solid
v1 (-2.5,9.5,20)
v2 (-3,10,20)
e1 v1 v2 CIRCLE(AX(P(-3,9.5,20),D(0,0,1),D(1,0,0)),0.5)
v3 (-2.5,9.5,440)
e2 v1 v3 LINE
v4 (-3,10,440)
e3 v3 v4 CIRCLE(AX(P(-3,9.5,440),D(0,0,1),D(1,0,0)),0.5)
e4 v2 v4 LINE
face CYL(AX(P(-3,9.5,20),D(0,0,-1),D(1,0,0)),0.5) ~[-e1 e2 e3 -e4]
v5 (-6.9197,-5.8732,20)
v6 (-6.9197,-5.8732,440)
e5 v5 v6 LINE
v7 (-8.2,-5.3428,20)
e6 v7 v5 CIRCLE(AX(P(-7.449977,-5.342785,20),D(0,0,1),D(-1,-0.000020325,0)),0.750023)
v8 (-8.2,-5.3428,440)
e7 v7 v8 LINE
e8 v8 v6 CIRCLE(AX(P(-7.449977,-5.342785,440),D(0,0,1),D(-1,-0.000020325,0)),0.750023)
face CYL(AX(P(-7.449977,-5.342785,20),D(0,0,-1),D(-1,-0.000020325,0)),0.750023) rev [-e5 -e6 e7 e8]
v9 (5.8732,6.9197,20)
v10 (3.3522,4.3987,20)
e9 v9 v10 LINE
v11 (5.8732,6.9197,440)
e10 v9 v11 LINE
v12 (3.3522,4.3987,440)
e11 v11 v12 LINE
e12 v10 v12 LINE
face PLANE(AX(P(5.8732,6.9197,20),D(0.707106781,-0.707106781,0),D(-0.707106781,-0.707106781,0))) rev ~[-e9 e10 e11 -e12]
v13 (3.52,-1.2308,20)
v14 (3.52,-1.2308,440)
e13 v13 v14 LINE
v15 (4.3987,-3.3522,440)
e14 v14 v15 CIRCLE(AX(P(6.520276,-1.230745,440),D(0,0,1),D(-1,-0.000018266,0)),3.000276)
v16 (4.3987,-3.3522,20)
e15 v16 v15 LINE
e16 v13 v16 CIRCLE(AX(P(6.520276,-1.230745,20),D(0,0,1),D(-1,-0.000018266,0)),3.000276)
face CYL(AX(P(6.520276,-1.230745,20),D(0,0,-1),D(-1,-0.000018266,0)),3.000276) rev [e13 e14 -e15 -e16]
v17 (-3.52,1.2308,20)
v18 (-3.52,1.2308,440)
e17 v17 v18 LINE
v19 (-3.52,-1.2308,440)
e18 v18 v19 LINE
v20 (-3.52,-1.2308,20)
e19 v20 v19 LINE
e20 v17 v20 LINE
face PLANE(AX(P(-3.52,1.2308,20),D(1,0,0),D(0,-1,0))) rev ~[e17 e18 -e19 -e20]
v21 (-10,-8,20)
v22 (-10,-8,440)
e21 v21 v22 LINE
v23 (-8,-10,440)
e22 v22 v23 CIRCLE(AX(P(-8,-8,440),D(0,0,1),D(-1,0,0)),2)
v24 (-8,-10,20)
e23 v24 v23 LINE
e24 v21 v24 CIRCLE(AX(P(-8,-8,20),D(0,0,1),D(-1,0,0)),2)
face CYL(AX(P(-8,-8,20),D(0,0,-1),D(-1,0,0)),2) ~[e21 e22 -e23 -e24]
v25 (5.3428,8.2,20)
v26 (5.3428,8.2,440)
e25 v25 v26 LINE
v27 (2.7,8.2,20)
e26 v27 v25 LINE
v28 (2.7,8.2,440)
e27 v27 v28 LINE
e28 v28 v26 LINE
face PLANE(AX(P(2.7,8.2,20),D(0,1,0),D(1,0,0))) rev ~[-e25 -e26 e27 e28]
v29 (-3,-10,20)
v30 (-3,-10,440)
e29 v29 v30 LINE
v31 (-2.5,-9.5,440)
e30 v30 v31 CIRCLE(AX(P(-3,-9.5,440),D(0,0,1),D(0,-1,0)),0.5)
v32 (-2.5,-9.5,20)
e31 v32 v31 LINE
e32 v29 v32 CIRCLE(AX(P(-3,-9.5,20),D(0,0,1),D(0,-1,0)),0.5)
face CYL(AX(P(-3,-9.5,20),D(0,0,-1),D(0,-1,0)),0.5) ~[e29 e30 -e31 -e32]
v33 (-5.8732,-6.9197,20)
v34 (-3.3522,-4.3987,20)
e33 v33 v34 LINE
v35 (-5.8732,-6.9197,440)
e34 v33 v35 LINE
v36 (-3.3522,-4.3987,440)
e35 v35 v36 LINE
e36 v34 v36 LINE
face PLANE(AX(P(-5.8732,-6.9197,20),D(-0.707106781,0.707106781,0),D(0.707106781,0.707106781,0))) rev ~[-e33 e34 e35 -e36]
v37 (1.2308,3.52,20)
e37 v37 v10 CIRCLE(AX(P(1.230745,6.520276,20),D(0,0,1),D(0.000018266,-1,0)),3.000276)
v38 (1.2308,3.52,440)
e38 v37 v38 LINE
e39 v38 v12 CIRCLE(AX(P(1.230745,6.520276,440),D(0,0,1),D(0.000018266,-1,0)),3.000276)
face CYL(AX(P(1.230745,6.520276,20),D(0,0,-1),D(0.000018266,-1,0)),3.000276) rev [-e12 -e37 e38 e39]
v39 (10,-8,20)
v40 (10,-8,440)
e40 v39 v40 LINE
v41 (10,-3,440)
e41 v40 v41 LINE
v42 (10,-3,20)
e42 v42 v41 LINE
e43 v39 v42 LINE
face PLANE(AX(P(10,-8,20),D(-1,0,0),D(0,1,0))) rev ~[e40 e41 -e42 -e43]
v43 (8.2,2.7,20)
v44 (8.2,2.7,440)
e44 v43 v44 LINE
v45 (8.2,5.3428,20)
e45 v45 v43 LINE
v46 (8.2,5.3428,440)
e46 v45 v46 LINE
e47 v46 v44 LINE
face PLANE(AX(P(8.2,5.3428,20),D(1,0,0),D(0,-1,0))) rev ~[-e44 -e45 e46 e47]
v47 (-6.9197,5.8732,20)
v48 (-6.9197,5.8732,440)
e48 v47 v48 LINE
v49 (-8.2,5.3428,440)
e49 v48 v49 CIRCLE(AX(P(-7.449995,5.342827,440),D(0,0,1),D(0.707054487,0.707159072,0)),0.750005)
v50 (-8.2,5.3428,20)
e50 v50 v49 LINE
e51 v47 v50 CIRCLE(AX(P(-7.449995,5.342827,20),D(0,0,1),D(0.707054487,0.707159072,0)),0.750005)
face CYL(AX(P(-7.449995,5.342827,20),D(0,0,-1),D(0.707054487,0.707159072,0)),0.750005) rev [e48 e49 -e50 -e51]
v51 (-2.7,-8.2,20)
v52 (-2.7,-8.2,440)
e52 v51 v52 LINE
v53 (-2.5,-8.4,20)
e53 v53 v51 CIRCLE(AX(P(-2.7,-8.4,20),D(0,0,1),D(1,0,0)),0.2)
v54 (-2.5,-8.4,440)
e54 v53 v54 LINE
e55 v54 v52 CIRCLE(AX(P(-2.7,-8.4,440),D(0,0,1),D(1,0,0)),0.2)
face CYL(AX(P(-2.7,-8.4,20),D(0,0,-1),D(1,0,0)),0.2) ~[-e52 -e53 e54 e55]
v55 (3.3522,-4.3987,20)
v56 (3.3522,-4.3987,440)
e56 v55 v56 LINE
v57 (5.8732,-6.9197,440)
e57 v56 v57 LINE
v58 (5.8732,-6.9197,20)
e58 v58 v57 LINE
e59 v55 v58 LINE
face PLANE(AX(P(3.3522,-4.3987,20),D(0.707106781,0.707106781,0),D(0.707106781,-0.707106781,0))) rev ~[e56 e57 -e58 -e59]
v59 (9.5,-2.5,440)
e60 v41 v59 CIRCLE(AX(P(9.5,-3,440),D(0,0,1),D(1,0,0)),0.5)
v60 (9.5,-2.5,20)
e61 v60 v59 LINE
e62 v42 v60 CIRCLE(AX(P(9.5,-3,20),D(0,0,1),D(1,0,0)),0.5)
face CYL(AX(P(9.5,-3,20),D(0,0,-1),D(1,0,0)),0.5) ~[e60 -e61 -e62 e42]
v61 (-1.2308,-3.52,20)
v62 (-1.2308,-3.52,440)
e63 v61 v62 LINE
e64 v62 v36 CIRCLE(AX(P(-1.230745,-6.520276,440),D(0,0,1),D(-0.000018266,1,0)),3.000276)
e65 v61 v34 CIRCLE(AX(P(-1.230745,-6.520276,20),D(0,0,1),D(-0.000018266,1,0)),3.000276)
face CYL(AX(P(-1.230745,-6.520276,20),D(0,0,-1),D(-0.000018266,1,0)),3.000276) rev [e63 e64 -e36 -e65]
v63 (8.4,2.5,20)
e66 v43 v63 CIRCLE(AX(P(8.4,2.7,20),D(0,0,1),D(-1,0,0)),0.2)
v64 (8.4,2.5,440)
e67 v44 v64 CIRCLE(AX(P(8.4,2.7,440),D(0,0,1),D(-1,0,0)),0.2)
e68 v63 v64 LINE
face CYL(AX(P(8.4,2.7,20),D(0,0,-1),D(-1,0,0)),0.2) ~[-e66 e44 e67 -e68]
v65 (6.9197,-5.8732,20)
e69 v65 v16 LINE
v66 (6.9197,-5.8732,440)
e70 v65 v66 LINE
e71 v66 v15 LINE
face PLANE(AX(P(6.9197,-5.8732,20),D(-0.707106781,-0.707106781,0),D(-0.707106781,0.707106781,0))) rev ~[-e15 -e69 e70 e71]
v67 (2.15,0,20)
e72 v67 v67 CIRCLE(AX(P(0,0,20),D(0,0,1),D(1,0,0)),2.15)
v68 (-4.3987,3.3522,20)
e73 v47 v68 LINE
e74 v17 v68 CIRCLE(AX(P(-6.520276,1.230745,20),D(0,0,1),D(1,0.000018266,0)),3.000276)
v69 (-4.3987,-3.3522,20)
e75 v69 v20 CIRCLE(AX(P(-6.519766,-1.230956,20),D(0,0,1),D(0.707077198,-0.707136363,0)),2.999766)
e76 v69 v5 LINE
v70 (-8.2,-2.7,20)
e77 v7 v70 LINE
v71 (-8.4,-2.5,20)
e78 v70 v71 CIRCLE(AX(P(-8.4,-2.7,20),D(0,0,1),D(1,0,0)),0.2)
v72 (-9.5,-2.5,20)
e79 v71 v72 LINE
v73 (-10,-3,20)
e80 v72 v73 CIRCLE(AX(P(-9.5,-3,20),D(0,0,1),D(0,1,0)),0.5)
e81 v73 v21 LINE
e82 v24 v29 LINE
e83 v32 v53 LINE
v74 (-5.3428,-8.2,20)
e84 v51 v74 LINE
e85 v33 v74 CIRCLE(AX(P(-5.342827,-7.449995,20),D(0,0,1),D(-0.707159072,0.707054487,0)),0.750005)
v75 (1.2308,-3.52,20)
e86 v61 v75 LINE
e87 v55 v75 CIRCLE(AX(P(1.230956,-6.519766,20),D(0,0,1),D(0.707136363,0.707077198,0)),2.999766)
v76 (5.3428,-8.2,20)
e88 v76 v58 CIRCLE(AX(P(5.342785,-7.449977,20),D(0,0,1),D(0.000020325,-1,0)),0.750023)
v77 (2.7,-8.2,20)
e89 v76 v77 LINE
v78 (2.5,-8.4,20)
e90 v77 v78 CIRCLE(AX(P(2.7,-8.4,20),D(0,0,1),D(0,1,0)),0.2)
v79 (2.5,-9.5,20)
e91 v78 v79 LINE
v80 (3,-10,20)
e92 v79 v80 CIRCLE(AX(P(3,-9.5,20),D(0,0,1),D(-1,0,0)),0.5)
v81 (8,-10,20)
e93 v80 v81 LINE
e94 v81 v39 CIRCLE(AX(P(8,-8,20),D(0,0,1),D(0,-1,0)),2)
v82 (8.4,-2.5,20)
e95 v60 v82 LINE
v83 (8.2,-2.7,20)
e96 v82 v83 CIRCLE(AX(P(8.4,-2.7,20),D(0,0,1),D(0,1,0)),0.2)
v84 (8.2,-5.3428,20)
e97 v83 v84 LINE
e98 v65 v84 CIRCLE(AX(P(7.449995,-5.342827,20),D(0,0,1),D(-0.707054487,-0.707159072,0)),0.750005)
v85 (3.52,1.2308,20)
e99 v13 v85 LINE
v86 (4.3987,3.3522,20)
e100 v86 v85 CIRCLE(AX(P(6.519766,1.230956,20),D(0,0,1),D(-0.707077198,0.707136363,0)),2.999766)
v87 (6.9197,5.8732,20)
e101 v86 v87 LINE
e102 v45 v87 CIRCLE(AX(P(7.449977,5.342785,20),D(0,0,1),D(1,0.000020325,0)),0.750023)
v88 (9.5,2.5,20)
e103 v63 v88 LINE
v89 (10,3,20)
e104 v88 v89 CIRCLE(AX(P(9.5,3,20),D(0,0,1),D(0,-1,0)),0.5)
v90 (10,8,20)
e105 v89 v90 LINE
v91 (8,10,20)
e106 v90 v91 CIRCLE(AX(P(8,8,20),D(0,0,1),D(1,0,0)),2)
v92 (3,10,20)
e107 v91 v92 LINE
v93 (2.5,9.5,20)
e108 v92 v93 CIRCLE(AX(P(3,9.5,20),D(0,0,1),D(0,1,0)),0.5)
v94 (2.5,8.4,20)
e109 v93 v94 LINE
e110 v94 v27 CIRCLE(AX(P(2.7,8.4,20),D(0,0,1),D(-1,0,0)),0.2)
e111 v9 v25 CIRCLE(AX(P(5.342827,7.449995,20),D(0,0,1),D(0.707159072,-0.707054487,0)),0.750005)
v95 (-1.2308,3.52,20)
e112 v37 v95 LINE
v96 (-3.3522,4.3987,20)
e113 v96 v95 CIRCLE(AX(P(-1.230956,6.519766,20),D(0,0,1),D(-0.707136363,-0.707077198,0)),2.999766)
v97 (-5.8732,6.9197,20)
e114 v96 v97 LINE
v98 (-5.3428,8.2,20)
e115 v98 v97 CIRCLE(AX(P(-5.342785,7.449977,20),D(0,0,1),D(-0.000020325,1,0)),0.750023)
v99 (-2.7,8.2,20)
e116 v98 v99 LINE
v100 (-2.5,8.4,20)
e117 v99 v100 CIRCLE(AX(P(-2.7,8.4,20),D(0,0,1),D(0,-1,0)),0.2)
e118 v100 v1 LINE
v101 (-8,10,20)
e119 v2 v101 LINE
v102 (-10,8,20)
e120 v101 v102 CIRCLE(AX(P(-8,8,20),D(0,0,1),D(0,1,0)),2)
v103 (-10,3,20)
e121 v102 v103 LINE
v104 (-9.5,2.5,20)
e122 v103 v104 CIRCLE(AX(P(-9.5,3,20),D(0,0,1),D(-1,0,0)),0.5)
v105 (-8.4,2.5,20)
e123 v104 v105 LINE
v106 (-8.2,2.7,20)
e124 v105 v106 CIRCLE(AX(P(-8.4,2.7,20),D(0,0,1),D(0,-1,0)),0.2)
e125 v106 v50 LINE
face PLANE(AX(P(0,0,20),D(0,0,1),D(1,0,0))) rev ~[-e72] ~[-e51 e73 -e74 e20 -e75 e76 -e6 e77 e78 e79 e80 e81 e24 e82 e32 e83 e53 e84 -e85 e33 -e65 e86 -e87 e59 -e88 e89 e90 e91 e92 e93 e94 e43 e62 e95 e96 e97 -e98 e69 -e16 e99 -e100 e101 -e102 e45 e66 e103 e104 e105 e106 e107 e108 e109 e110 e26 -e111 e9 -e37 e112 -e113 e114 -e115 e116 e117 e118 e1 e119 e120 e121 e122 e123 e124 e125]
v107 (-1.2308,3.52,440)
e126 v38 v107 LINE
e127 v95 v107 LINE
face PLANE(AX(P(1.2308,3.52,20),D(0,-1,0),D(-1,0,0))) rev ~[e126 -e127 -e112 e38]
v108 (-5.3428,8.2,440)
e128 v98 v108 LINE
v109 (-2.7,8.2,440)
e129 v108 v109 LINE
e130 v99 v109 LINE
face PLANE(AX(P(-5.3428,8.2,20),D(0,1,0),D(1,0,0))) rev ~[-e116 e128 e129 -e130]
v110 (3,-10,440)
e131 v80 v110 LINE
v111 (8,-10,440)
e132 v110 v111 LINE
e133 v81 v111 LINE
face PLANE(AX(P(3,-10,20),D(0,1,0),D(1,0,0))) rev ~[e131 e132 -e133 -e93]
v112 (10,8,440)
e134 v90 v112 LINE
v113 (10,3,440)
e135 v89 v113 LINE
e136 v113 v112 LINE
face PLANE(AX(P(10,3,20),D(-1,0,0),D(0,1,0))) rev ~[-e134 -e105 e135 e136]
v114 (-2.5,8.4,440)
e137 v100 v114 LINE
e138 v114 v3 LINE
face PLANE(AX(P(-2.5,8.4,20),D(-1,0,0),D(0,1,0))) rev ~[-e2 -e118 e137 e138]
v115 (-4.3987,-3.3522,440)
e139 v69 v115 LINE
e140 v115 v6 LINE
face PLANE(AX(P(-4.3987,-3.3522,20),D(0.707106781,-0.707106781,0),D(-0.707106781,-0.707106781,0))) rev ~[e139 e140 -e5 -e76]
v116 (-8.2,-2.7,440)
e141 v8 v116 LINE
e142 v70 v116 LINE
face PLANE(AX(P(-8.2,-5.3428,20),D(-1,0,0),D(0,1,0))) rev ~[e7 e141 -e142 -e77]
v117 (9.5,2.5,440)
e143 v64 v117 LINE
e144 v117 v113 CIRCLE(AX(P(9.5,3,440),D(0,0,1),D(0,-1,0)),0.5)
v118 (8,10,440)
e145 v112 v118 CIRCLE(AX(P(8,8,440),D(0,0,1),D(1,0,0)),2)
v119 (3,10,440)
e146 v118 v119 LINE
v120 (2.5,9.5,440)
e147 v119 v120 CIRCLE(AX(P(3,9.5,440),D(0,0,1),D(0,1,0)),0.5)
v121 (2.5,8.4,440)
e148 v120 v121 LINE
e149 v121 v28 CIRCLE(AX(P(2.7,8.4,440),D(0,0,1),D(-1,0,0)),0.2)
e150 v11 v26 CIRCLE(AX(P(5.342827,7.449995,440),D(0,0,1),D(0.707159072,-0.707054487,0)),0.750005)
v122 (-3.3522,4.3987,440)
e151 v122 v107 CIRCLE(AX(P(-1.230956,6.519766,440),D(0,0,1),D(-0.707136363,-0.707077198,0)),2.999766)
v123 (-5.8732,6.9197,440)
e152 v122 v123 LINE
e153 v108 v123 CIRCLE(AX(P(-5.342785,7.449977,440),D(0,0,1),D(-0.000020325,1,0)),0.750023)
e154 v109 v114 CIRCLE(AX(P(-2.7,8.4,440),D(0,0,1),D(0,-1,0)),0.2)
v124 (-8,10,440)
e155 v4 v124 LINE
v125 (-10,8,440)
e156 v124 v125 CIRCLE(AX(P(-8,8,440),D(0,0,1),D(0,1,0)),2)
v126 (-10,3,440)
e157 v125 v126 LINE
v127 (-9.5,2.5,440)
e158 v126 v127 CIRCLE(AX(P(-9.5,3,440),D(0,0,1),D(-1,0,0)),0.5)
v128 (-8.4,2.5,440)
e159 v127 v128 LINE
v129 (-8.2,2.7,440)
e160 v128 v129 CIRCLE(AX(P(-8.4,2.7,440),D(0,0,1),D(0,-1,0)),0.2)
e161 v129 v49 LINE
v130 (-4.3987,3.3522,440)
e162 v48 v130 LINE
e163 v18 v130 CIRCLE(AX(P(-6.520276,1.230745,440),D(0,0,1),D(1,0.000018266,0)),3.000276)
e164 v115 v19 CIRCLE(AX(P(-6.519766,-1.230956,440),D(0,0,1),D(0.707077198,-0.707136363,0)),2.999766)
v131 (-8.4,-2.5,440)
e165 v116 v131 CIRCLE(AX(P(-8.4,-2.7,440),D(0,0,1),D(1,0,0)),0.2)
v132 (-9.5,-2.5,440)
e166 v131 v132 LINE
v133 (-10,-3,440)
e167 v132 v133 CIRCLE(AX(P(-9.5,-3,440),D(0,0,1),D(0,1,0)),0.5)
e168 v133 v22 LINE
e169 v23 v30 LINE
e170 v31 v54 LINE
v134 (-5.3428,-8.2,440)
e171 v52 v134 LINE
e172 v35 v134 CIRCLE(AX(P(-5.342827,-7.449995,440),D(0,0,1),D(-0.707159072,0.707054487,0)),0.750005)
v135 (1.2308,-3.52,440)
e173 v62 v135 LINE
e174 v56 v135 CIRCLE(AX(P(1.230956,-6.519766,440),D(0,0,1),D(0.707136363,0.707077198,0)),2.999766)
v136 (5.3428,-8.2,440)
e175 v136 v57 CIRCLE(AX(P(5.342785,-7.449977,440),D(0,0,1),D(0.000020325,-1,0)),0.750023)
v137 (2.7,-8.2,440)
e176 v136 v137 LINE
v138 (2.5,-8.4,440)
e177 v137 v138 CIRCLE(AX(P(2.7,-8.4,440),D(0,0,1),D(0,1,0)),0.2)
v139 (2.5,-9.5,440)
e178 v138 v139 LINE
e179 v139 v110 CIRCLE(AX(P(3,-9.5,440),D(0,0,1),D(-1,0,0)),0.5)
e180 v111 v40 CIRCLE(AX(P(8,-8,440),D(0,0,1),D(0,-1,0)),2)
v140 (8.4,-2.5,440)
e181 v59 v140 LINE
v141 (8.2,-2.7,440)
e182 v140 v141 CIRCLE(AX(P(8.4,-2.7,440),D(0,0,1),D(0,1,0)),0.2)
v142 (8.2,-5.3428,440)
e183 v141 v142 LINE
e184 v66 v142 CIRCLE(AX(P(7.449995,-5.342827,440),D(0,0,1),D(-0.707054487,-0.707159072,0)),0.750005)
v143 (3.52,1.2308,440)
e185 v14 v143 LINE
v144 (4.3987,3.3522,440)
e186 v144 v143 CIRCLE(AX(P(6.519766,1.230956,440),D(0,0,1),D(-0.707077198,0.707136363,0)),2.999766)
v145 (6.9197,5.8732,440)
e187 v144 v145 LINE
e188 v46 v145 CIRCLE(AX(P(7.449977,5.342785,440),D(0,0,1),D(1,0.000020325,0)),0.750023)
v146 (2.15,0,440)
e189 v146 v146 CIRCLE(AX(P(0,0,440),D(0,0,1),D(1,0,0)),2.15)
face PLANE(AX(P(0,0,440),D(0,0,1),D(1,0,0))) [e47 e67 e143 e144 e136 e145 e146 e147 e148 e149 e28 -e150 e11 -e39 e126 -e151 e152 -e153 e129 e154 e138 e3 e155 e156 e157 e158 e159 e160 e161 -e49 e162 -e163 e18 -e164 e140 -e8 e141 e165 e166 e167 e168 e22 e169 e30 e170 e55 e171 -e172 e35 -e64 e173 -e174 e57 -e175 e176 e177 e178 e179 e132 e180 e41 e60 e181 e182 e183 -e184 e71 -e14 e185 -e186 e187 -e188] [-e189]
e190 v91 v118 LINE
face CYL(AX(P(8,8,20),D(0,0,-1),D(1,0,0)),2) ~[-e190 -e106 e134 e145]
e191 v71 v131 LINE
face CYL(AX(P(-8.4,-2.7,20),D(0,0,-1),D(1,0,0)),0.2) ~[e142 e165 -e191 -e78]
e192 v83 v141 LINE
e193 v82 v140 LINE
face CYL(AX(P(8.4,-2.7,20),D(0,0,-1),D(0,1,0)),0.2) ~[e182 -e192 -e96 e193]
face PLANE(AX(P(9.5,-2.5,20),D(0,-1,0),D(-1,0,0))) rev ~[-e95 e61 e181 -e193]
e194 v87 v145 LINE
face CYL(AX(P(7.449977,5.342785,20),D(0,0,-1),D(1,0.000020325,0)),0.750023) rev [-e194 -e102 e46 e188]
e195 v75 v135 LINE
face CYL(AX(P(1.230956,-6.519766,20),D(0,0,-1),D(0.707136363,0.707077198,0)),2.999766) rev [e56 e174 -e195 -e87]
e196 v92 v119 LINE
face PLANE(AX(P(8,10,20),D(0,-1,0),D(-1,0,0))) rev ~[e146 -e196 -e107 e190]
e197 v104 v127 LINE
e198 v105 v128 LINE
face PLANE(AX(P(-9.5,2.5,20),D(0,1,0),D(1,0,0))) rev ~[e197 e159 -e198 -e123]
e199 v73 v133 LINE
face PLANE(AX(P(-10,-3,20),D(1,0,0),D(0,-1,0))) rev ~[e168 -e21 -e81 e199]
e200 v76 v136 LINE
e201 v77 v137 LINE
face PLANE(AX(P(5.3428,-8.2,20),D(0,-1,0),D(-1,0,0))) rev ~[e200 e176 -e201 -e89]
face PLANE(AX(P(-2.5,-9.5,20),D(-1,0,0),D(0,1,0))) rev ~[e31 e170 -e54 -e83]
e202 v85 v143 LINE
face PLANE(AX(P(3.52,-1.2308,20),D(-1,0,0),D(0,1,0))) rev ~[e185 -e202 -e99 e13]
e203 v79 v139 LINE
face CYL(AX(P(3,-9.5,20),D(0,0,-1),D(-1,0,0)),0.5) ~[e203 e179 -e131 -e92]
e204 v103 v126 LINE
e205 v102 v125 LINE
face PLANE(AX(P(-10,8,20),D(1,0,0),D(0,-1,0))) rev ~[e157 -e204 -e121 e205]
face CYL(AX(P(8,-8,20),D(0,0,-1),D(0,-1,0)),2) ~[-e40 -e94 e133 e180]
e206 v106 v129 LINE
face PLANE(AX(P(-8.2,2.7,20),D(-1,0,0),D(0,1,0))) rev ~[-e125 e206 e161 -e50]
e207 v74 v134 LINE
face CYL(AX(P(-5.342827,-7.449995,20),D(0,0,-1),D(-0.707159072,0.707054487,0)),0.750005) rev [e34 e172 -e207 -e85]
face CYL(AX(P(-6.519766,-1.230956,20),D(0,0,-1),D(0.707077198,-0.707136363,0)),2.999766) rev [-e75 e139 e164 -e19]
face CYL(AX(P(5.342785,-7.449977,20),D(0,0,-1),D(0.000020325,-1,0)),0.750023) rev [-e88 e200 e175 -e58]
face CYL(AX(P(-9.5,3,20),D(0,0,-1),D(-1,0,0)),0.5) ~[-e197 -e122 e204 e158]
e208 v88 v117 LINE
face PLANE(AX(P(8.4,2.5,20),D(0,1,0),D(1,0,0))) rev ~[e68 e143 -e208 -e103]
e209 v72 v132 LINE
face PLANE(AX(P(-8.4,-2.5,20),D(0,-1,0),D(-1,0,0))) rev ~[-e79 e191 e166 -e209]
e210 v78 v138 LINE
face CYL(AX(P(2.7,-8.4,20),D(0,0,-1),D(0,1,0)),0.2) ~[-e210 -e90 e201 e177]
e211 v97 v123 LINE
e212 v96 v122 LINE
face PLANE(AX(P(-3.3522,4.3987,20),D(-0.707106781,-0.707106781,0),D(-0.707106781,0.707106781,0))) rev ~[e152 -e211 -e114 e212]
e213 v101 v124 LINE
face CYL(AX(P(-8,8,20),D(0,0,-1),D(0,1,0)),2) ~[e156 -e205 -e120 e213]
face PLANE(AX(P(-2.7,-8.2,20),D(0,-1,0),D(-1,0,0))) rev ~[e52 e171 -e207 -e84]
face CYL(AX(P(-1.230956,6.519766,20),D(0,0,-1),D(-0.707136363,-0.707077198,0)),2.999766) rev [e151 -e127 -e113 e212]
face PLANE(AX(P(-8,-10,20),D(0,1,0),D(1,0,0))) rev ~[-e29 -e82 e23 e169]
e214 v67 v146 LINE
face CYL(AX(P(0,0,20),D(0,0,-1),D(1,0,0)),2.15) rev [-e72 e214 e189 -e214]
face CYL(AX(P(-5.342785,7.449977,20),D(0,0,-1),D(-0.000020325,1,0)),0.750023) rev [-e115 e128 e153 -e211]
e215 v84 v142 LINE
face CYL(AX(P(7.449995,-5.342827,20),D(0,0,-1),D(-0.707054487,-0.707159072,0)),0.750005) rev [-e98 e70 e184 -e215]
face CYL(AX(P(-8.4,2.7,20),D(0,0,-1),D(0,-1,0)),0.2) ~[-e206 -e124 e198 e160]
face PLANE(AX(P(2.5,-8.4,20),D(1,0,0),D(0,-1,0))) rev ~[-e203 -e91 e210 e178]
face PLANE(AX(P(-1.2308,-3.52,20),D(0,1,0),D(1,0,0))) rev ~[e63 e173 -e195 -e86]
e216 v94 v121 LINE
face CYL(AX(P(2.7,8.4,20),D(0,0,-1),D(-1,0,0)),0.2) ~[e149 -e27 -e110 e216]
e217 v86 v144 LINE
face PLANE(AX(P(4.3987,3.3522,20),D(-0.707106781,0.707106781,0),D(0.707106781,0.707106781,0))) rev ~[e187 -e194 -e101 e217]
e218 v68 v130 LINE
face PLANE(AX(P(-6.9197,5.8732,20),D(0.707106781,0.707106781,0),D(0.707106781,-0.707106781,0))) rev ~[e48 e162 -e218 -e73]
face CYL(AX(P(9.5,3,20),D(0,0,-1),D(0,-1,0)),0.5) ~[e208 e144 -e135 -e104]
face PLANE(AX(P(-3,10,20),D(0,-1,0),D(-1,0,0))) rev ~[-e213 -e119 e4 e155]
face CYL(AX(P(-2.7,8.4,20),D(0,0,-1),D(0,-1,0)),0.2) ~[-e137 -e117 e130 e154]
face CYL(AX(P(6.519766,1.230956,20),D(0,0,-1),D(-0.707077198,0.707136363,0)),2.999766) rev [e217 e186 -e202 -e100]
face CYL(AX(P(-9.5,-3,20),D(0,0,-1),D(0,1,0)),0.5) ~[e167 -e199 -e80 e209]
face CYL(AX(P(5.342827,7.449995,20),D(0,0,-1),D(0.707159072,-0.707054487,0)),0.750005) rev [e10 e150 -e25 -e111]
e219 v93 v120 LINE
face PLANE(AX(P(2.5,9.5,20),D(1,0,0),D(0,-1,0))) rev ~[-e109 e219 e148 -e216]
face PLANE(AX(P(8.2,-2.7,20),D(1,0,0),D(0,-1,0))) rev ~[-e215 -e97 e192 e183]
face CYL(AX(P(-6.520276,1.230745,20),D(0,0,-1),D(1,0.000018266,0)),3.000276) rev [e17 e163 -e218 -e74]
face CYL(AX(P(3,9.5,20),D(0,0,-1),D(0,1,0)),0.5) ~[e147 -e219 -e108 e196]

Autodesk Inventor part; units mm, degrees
ref_plane "Płaszczyzna początkowa" through (0, 0, 20) normal (0, 0, 1) x (1, 0, 0)
ref_plane "Płaszczyzna końcowa" through (0, 0, 440) normal (0, 0, 1) x (1, 0, 0)
sketch "Szkic" plane through (0, 0, 0) normal (0, 0, 1) x (1, 0, 0)
  arc A0 (8, -10) -> (10, -8) centre (8, -8) ccw
  line L0 (10, -8) -> (10, -3)
  arc A1 (10, -3) -> (9.5, -2.5) centre (9.5, -3) ccw
  line L1 (9.5, -2.5) -> (8.4, -2.5)
  arc A2 (8.4, -2.5) -> (8.2, -2.7) centre (8.4, -2.7) ccw
  line L2 (8.2, -2.7) -> (8.2, -5.3428)
  arc A3 (6.9197, -5.8732) -> (8.2, -5.3428) centre (7.45, -5.3428) ccw
  line L3 (6.9197, -5.8732) -> (4.3987, -3.3522)
  arc A4 (3.52, -1.2308) -> (4.3987, -3.3522) centre (6.52, -1.2308) ccw
  line L4 (3.52, -1.2308) -> (3.52, 1.2308)
  arc A5 (4.3987, 3.3522) -> (3.52, 1.2308) centre (6.52, 1.2308) ccw
  line L5 (4.3987, 3.3522) -> (6.9197, 5.8732)
  arc A6 (8.2, 5.3428) -> (6.9197, 5.8732) centre (7.45, 5.3428) ccw
  line L6 (8.2, 5.3428) -> (8.2, 2.7)
  arc A7 (8.2, 2.7) -> (8.4, 2.5) centre (8.4, 2.7) ccw
  line L7 (8.4, 2.5) -> (9.5, 2.5)
  arc A8 (9.5, 2.5) -> (10, 3) centre (9.5, 3) ccw
  line L8 (10, 3) -> (10, 8)
  arc A9 (10, 8) -> (8, 10) centre (8, 8) ccw
  line L9 (8, 10) -> (3, 10)
  arc A10 (3, 10) -> (2.5, 9.5) centre (3, 9.5) ccw
  line L10 (2.5, 9.5) -> (2.5, 8.4)
  arc A11 (2.5, 8.4) -> (2.7, 8.2) centre (2.7, 8.4) ccw
  line L11 (2.7, 8.2) -> (5.3428, 8.2)
  arc A12 (5.8732, 6.9197) -> (5.3428, 8.2) centre (5.3428, 7.45) ccw
  line L12 (5.8732, 6.9197) -> (3.3522, 4.3987)
  arc A13 (1.2308, 3.52) -> (3.3522, 4.3987) centre (1.2308, 6.52) ccw
  line L13 (1.2308, 3.52) -> (-1.2308, 3.52)
  arc A14 (-3.3522, 4.3987) -> (-1.2308, 3.52) centre (-1.2308, 6.52) ccw
  line L14 (-3.3522, 4.3987) -> (-5.8732, 6.9197)
  arc A15 (-5.3428, 8.2) -> (-5.8732, 6.9197) centre (-5.3428, 7.45) ccw
  line L15 (-5.3428, 8.2) -> (-2.7, 8.2)
  arc A16 (-2.7, 8.2) -> (-2.5, 8.4) centre (-2.7, 8.4) ccw
  line L16 (-2.5, 8.4) -> (-2.5, 9.5)
  arc A17 (-2.5, 9.5) -> (-3, 10) centre (-3, 9.5) ccw
  line L17 (-3, 10) -> (-8, 10)
  arc A18 (-8, 10) -> (-10, 8) centre (-8, 8) ccw
  line L18 (-10, 8) -> (-10, 3)
  arc A19 (-10, 3) -> (-9.5, 2.5) centre (-9.5, 3) ccw
  line L19 (-9.5, 2.5) -> (-8.4, 2.5)
  arc A20 (-8.4, 2.5) -> (-8.2, 2.7) centre (-8.4, 2.7) ccw
  line L20 (-8.2, 2.7) -> (-8.2, 5.3428)
  arc A21 (-6.9197, 5.8732) -> (-8.2, 5.3428) centre (-7.45, 5.3428) ccw
  line L21 (-6.9197, 5.8732) -> (-4.3987, 3.3522)
  arc A22 (-3.52, 1.2308) -> (-4.3987, 3.3522) centre (-6.52, 1.2308) ccw
  line L22 (-3.52, 1.2308) -> (-3.52, -1.2308)
  arc A23 (-4.3987, -3.3522) -> (-3.52, -1.2308) centre (-6.52, -1.2308) ccw
  line L23 (-4.3987, -3.3522) -> (-6.9197, -5.8732)
  arc A24 (-8.2, -5.3428) -> (-6.9197, -5.8732) centre (-7.45, -5.3428) ccw
  line L24 (-8.2, -5.3428) -> (-8.2, -2.7)
  arc A25 (-8.2, -2.7) -> (-8.4, -2.5) centre (-8.4, -2.7) ccw
  line L25 (-8.4, -2.5) -> (-9.5, -2.5)
  arc A26 (-9.5, -2.5) -> (-10, -3) centre (-9.5, -3) ccw
  line L26 (-10, -3) -> (-10, -8)
  arc A27 (-10, -8) -> (-8, -10) centre (-8, -8) ccw
  line L27 (-8, -10) -> (-3, -10)
  arc A28 (-3, -10) -> (-2.5, -9.5) centre (-3, -9.5) ccw
  line L28 (-2.5, -9.5) -> (-2.5, -8.4)
  arc A29 (-2.5, -8.4) -> (-2.7, -8.2) centre (-2.7, -8.4) ccw
  line L29 (-2.7, -8.2) -> (-5.3428, -8.2)
  arc A30 (-5.8732, -6.9197) -> (-5.3428, -8.2) centre (-5.3428, -7.45) ccw
  line L30 (-5.8732, -6.9197) -> (-3.3522, -4.3987)
  arc A31 (-1.2308, -3.52) -> (-3.3522, -4.3987) centre (-1.2308, -6.52) ccw
  line L31 (-1.2308, -3.52) -> (1.2308, -3.52)
  arc A32 (3.3522, -4.3987) -> (1.2308, -3.52) centre (1.2308, -6.52) ccw
  line L32 (3.3522, -4.3987) -> (5.8732, -6.9197)
  arc A33 (5.3428, -8.2) -> (5.8732, -6.9197) centre (5.3428, -7.45) ccw
  line L33 (5.3428, -8.2) -> (2.7, -8.2)
  arc A34 (2.7, -8.2) -> (2.5, -8.4) centre (2.7, -8.4) ccw
  line L34 (2.5, -8.4) -> (2.5, -9.5)
  arc A35 (2.5, -9.5) -> (3, -10) centre (3, -9.5) ccw
  line L35 (3, -10) -> (8, -10)
  circle A36 centre (0, 0) radius 2.15
  point P0 (10, -10)
extrude "Bryła" add sketch "Szkic" along normal up to surface (420 mm away) from surface at 20
sketch "Szkic4" plane through (0, 0, 0) normal (0, 0, 1) x (1, 0, 0)
  line L0 (0, 0) -> (10, 0)
ref_plane "Płaszczyzna konstrukcyjna4" through (0, 0, 0) normal (0, -1, 0) x (1, 0, 0)
sketch "Szkic5" plane through (0, 0, 0) normal (0, -1, 0) x (1, 0, 0)
  line L0 (-2, 20) -> (12, 20)
  line L1 (-2, 440) -> (12, 440)
  dimension "d7" = 420
ref_plane "Płaszczyzna konstrukcyjna5" through (-216.75, 3, 440) normal (0, 0, 1) x (1, 0, 0)
split "Podział1" plane through (-216.75, 3, 440) removes the side toward (0, 0, 1)
ref_plane "Płaszczyzna konstrukcyjna6" through (-225, 8, 20) normal (0, 0, -1) x (-1, 0, 0)
split "Podział2" plane through (-225, 8, 20) removes the side toward (0, 0, -1)
equation "\"G_L\" = d7"
properties part number "COTS_ARMA_AR3701_20x20_Alu_Extr_00000010" material "Aluminium 6061-AHC"
